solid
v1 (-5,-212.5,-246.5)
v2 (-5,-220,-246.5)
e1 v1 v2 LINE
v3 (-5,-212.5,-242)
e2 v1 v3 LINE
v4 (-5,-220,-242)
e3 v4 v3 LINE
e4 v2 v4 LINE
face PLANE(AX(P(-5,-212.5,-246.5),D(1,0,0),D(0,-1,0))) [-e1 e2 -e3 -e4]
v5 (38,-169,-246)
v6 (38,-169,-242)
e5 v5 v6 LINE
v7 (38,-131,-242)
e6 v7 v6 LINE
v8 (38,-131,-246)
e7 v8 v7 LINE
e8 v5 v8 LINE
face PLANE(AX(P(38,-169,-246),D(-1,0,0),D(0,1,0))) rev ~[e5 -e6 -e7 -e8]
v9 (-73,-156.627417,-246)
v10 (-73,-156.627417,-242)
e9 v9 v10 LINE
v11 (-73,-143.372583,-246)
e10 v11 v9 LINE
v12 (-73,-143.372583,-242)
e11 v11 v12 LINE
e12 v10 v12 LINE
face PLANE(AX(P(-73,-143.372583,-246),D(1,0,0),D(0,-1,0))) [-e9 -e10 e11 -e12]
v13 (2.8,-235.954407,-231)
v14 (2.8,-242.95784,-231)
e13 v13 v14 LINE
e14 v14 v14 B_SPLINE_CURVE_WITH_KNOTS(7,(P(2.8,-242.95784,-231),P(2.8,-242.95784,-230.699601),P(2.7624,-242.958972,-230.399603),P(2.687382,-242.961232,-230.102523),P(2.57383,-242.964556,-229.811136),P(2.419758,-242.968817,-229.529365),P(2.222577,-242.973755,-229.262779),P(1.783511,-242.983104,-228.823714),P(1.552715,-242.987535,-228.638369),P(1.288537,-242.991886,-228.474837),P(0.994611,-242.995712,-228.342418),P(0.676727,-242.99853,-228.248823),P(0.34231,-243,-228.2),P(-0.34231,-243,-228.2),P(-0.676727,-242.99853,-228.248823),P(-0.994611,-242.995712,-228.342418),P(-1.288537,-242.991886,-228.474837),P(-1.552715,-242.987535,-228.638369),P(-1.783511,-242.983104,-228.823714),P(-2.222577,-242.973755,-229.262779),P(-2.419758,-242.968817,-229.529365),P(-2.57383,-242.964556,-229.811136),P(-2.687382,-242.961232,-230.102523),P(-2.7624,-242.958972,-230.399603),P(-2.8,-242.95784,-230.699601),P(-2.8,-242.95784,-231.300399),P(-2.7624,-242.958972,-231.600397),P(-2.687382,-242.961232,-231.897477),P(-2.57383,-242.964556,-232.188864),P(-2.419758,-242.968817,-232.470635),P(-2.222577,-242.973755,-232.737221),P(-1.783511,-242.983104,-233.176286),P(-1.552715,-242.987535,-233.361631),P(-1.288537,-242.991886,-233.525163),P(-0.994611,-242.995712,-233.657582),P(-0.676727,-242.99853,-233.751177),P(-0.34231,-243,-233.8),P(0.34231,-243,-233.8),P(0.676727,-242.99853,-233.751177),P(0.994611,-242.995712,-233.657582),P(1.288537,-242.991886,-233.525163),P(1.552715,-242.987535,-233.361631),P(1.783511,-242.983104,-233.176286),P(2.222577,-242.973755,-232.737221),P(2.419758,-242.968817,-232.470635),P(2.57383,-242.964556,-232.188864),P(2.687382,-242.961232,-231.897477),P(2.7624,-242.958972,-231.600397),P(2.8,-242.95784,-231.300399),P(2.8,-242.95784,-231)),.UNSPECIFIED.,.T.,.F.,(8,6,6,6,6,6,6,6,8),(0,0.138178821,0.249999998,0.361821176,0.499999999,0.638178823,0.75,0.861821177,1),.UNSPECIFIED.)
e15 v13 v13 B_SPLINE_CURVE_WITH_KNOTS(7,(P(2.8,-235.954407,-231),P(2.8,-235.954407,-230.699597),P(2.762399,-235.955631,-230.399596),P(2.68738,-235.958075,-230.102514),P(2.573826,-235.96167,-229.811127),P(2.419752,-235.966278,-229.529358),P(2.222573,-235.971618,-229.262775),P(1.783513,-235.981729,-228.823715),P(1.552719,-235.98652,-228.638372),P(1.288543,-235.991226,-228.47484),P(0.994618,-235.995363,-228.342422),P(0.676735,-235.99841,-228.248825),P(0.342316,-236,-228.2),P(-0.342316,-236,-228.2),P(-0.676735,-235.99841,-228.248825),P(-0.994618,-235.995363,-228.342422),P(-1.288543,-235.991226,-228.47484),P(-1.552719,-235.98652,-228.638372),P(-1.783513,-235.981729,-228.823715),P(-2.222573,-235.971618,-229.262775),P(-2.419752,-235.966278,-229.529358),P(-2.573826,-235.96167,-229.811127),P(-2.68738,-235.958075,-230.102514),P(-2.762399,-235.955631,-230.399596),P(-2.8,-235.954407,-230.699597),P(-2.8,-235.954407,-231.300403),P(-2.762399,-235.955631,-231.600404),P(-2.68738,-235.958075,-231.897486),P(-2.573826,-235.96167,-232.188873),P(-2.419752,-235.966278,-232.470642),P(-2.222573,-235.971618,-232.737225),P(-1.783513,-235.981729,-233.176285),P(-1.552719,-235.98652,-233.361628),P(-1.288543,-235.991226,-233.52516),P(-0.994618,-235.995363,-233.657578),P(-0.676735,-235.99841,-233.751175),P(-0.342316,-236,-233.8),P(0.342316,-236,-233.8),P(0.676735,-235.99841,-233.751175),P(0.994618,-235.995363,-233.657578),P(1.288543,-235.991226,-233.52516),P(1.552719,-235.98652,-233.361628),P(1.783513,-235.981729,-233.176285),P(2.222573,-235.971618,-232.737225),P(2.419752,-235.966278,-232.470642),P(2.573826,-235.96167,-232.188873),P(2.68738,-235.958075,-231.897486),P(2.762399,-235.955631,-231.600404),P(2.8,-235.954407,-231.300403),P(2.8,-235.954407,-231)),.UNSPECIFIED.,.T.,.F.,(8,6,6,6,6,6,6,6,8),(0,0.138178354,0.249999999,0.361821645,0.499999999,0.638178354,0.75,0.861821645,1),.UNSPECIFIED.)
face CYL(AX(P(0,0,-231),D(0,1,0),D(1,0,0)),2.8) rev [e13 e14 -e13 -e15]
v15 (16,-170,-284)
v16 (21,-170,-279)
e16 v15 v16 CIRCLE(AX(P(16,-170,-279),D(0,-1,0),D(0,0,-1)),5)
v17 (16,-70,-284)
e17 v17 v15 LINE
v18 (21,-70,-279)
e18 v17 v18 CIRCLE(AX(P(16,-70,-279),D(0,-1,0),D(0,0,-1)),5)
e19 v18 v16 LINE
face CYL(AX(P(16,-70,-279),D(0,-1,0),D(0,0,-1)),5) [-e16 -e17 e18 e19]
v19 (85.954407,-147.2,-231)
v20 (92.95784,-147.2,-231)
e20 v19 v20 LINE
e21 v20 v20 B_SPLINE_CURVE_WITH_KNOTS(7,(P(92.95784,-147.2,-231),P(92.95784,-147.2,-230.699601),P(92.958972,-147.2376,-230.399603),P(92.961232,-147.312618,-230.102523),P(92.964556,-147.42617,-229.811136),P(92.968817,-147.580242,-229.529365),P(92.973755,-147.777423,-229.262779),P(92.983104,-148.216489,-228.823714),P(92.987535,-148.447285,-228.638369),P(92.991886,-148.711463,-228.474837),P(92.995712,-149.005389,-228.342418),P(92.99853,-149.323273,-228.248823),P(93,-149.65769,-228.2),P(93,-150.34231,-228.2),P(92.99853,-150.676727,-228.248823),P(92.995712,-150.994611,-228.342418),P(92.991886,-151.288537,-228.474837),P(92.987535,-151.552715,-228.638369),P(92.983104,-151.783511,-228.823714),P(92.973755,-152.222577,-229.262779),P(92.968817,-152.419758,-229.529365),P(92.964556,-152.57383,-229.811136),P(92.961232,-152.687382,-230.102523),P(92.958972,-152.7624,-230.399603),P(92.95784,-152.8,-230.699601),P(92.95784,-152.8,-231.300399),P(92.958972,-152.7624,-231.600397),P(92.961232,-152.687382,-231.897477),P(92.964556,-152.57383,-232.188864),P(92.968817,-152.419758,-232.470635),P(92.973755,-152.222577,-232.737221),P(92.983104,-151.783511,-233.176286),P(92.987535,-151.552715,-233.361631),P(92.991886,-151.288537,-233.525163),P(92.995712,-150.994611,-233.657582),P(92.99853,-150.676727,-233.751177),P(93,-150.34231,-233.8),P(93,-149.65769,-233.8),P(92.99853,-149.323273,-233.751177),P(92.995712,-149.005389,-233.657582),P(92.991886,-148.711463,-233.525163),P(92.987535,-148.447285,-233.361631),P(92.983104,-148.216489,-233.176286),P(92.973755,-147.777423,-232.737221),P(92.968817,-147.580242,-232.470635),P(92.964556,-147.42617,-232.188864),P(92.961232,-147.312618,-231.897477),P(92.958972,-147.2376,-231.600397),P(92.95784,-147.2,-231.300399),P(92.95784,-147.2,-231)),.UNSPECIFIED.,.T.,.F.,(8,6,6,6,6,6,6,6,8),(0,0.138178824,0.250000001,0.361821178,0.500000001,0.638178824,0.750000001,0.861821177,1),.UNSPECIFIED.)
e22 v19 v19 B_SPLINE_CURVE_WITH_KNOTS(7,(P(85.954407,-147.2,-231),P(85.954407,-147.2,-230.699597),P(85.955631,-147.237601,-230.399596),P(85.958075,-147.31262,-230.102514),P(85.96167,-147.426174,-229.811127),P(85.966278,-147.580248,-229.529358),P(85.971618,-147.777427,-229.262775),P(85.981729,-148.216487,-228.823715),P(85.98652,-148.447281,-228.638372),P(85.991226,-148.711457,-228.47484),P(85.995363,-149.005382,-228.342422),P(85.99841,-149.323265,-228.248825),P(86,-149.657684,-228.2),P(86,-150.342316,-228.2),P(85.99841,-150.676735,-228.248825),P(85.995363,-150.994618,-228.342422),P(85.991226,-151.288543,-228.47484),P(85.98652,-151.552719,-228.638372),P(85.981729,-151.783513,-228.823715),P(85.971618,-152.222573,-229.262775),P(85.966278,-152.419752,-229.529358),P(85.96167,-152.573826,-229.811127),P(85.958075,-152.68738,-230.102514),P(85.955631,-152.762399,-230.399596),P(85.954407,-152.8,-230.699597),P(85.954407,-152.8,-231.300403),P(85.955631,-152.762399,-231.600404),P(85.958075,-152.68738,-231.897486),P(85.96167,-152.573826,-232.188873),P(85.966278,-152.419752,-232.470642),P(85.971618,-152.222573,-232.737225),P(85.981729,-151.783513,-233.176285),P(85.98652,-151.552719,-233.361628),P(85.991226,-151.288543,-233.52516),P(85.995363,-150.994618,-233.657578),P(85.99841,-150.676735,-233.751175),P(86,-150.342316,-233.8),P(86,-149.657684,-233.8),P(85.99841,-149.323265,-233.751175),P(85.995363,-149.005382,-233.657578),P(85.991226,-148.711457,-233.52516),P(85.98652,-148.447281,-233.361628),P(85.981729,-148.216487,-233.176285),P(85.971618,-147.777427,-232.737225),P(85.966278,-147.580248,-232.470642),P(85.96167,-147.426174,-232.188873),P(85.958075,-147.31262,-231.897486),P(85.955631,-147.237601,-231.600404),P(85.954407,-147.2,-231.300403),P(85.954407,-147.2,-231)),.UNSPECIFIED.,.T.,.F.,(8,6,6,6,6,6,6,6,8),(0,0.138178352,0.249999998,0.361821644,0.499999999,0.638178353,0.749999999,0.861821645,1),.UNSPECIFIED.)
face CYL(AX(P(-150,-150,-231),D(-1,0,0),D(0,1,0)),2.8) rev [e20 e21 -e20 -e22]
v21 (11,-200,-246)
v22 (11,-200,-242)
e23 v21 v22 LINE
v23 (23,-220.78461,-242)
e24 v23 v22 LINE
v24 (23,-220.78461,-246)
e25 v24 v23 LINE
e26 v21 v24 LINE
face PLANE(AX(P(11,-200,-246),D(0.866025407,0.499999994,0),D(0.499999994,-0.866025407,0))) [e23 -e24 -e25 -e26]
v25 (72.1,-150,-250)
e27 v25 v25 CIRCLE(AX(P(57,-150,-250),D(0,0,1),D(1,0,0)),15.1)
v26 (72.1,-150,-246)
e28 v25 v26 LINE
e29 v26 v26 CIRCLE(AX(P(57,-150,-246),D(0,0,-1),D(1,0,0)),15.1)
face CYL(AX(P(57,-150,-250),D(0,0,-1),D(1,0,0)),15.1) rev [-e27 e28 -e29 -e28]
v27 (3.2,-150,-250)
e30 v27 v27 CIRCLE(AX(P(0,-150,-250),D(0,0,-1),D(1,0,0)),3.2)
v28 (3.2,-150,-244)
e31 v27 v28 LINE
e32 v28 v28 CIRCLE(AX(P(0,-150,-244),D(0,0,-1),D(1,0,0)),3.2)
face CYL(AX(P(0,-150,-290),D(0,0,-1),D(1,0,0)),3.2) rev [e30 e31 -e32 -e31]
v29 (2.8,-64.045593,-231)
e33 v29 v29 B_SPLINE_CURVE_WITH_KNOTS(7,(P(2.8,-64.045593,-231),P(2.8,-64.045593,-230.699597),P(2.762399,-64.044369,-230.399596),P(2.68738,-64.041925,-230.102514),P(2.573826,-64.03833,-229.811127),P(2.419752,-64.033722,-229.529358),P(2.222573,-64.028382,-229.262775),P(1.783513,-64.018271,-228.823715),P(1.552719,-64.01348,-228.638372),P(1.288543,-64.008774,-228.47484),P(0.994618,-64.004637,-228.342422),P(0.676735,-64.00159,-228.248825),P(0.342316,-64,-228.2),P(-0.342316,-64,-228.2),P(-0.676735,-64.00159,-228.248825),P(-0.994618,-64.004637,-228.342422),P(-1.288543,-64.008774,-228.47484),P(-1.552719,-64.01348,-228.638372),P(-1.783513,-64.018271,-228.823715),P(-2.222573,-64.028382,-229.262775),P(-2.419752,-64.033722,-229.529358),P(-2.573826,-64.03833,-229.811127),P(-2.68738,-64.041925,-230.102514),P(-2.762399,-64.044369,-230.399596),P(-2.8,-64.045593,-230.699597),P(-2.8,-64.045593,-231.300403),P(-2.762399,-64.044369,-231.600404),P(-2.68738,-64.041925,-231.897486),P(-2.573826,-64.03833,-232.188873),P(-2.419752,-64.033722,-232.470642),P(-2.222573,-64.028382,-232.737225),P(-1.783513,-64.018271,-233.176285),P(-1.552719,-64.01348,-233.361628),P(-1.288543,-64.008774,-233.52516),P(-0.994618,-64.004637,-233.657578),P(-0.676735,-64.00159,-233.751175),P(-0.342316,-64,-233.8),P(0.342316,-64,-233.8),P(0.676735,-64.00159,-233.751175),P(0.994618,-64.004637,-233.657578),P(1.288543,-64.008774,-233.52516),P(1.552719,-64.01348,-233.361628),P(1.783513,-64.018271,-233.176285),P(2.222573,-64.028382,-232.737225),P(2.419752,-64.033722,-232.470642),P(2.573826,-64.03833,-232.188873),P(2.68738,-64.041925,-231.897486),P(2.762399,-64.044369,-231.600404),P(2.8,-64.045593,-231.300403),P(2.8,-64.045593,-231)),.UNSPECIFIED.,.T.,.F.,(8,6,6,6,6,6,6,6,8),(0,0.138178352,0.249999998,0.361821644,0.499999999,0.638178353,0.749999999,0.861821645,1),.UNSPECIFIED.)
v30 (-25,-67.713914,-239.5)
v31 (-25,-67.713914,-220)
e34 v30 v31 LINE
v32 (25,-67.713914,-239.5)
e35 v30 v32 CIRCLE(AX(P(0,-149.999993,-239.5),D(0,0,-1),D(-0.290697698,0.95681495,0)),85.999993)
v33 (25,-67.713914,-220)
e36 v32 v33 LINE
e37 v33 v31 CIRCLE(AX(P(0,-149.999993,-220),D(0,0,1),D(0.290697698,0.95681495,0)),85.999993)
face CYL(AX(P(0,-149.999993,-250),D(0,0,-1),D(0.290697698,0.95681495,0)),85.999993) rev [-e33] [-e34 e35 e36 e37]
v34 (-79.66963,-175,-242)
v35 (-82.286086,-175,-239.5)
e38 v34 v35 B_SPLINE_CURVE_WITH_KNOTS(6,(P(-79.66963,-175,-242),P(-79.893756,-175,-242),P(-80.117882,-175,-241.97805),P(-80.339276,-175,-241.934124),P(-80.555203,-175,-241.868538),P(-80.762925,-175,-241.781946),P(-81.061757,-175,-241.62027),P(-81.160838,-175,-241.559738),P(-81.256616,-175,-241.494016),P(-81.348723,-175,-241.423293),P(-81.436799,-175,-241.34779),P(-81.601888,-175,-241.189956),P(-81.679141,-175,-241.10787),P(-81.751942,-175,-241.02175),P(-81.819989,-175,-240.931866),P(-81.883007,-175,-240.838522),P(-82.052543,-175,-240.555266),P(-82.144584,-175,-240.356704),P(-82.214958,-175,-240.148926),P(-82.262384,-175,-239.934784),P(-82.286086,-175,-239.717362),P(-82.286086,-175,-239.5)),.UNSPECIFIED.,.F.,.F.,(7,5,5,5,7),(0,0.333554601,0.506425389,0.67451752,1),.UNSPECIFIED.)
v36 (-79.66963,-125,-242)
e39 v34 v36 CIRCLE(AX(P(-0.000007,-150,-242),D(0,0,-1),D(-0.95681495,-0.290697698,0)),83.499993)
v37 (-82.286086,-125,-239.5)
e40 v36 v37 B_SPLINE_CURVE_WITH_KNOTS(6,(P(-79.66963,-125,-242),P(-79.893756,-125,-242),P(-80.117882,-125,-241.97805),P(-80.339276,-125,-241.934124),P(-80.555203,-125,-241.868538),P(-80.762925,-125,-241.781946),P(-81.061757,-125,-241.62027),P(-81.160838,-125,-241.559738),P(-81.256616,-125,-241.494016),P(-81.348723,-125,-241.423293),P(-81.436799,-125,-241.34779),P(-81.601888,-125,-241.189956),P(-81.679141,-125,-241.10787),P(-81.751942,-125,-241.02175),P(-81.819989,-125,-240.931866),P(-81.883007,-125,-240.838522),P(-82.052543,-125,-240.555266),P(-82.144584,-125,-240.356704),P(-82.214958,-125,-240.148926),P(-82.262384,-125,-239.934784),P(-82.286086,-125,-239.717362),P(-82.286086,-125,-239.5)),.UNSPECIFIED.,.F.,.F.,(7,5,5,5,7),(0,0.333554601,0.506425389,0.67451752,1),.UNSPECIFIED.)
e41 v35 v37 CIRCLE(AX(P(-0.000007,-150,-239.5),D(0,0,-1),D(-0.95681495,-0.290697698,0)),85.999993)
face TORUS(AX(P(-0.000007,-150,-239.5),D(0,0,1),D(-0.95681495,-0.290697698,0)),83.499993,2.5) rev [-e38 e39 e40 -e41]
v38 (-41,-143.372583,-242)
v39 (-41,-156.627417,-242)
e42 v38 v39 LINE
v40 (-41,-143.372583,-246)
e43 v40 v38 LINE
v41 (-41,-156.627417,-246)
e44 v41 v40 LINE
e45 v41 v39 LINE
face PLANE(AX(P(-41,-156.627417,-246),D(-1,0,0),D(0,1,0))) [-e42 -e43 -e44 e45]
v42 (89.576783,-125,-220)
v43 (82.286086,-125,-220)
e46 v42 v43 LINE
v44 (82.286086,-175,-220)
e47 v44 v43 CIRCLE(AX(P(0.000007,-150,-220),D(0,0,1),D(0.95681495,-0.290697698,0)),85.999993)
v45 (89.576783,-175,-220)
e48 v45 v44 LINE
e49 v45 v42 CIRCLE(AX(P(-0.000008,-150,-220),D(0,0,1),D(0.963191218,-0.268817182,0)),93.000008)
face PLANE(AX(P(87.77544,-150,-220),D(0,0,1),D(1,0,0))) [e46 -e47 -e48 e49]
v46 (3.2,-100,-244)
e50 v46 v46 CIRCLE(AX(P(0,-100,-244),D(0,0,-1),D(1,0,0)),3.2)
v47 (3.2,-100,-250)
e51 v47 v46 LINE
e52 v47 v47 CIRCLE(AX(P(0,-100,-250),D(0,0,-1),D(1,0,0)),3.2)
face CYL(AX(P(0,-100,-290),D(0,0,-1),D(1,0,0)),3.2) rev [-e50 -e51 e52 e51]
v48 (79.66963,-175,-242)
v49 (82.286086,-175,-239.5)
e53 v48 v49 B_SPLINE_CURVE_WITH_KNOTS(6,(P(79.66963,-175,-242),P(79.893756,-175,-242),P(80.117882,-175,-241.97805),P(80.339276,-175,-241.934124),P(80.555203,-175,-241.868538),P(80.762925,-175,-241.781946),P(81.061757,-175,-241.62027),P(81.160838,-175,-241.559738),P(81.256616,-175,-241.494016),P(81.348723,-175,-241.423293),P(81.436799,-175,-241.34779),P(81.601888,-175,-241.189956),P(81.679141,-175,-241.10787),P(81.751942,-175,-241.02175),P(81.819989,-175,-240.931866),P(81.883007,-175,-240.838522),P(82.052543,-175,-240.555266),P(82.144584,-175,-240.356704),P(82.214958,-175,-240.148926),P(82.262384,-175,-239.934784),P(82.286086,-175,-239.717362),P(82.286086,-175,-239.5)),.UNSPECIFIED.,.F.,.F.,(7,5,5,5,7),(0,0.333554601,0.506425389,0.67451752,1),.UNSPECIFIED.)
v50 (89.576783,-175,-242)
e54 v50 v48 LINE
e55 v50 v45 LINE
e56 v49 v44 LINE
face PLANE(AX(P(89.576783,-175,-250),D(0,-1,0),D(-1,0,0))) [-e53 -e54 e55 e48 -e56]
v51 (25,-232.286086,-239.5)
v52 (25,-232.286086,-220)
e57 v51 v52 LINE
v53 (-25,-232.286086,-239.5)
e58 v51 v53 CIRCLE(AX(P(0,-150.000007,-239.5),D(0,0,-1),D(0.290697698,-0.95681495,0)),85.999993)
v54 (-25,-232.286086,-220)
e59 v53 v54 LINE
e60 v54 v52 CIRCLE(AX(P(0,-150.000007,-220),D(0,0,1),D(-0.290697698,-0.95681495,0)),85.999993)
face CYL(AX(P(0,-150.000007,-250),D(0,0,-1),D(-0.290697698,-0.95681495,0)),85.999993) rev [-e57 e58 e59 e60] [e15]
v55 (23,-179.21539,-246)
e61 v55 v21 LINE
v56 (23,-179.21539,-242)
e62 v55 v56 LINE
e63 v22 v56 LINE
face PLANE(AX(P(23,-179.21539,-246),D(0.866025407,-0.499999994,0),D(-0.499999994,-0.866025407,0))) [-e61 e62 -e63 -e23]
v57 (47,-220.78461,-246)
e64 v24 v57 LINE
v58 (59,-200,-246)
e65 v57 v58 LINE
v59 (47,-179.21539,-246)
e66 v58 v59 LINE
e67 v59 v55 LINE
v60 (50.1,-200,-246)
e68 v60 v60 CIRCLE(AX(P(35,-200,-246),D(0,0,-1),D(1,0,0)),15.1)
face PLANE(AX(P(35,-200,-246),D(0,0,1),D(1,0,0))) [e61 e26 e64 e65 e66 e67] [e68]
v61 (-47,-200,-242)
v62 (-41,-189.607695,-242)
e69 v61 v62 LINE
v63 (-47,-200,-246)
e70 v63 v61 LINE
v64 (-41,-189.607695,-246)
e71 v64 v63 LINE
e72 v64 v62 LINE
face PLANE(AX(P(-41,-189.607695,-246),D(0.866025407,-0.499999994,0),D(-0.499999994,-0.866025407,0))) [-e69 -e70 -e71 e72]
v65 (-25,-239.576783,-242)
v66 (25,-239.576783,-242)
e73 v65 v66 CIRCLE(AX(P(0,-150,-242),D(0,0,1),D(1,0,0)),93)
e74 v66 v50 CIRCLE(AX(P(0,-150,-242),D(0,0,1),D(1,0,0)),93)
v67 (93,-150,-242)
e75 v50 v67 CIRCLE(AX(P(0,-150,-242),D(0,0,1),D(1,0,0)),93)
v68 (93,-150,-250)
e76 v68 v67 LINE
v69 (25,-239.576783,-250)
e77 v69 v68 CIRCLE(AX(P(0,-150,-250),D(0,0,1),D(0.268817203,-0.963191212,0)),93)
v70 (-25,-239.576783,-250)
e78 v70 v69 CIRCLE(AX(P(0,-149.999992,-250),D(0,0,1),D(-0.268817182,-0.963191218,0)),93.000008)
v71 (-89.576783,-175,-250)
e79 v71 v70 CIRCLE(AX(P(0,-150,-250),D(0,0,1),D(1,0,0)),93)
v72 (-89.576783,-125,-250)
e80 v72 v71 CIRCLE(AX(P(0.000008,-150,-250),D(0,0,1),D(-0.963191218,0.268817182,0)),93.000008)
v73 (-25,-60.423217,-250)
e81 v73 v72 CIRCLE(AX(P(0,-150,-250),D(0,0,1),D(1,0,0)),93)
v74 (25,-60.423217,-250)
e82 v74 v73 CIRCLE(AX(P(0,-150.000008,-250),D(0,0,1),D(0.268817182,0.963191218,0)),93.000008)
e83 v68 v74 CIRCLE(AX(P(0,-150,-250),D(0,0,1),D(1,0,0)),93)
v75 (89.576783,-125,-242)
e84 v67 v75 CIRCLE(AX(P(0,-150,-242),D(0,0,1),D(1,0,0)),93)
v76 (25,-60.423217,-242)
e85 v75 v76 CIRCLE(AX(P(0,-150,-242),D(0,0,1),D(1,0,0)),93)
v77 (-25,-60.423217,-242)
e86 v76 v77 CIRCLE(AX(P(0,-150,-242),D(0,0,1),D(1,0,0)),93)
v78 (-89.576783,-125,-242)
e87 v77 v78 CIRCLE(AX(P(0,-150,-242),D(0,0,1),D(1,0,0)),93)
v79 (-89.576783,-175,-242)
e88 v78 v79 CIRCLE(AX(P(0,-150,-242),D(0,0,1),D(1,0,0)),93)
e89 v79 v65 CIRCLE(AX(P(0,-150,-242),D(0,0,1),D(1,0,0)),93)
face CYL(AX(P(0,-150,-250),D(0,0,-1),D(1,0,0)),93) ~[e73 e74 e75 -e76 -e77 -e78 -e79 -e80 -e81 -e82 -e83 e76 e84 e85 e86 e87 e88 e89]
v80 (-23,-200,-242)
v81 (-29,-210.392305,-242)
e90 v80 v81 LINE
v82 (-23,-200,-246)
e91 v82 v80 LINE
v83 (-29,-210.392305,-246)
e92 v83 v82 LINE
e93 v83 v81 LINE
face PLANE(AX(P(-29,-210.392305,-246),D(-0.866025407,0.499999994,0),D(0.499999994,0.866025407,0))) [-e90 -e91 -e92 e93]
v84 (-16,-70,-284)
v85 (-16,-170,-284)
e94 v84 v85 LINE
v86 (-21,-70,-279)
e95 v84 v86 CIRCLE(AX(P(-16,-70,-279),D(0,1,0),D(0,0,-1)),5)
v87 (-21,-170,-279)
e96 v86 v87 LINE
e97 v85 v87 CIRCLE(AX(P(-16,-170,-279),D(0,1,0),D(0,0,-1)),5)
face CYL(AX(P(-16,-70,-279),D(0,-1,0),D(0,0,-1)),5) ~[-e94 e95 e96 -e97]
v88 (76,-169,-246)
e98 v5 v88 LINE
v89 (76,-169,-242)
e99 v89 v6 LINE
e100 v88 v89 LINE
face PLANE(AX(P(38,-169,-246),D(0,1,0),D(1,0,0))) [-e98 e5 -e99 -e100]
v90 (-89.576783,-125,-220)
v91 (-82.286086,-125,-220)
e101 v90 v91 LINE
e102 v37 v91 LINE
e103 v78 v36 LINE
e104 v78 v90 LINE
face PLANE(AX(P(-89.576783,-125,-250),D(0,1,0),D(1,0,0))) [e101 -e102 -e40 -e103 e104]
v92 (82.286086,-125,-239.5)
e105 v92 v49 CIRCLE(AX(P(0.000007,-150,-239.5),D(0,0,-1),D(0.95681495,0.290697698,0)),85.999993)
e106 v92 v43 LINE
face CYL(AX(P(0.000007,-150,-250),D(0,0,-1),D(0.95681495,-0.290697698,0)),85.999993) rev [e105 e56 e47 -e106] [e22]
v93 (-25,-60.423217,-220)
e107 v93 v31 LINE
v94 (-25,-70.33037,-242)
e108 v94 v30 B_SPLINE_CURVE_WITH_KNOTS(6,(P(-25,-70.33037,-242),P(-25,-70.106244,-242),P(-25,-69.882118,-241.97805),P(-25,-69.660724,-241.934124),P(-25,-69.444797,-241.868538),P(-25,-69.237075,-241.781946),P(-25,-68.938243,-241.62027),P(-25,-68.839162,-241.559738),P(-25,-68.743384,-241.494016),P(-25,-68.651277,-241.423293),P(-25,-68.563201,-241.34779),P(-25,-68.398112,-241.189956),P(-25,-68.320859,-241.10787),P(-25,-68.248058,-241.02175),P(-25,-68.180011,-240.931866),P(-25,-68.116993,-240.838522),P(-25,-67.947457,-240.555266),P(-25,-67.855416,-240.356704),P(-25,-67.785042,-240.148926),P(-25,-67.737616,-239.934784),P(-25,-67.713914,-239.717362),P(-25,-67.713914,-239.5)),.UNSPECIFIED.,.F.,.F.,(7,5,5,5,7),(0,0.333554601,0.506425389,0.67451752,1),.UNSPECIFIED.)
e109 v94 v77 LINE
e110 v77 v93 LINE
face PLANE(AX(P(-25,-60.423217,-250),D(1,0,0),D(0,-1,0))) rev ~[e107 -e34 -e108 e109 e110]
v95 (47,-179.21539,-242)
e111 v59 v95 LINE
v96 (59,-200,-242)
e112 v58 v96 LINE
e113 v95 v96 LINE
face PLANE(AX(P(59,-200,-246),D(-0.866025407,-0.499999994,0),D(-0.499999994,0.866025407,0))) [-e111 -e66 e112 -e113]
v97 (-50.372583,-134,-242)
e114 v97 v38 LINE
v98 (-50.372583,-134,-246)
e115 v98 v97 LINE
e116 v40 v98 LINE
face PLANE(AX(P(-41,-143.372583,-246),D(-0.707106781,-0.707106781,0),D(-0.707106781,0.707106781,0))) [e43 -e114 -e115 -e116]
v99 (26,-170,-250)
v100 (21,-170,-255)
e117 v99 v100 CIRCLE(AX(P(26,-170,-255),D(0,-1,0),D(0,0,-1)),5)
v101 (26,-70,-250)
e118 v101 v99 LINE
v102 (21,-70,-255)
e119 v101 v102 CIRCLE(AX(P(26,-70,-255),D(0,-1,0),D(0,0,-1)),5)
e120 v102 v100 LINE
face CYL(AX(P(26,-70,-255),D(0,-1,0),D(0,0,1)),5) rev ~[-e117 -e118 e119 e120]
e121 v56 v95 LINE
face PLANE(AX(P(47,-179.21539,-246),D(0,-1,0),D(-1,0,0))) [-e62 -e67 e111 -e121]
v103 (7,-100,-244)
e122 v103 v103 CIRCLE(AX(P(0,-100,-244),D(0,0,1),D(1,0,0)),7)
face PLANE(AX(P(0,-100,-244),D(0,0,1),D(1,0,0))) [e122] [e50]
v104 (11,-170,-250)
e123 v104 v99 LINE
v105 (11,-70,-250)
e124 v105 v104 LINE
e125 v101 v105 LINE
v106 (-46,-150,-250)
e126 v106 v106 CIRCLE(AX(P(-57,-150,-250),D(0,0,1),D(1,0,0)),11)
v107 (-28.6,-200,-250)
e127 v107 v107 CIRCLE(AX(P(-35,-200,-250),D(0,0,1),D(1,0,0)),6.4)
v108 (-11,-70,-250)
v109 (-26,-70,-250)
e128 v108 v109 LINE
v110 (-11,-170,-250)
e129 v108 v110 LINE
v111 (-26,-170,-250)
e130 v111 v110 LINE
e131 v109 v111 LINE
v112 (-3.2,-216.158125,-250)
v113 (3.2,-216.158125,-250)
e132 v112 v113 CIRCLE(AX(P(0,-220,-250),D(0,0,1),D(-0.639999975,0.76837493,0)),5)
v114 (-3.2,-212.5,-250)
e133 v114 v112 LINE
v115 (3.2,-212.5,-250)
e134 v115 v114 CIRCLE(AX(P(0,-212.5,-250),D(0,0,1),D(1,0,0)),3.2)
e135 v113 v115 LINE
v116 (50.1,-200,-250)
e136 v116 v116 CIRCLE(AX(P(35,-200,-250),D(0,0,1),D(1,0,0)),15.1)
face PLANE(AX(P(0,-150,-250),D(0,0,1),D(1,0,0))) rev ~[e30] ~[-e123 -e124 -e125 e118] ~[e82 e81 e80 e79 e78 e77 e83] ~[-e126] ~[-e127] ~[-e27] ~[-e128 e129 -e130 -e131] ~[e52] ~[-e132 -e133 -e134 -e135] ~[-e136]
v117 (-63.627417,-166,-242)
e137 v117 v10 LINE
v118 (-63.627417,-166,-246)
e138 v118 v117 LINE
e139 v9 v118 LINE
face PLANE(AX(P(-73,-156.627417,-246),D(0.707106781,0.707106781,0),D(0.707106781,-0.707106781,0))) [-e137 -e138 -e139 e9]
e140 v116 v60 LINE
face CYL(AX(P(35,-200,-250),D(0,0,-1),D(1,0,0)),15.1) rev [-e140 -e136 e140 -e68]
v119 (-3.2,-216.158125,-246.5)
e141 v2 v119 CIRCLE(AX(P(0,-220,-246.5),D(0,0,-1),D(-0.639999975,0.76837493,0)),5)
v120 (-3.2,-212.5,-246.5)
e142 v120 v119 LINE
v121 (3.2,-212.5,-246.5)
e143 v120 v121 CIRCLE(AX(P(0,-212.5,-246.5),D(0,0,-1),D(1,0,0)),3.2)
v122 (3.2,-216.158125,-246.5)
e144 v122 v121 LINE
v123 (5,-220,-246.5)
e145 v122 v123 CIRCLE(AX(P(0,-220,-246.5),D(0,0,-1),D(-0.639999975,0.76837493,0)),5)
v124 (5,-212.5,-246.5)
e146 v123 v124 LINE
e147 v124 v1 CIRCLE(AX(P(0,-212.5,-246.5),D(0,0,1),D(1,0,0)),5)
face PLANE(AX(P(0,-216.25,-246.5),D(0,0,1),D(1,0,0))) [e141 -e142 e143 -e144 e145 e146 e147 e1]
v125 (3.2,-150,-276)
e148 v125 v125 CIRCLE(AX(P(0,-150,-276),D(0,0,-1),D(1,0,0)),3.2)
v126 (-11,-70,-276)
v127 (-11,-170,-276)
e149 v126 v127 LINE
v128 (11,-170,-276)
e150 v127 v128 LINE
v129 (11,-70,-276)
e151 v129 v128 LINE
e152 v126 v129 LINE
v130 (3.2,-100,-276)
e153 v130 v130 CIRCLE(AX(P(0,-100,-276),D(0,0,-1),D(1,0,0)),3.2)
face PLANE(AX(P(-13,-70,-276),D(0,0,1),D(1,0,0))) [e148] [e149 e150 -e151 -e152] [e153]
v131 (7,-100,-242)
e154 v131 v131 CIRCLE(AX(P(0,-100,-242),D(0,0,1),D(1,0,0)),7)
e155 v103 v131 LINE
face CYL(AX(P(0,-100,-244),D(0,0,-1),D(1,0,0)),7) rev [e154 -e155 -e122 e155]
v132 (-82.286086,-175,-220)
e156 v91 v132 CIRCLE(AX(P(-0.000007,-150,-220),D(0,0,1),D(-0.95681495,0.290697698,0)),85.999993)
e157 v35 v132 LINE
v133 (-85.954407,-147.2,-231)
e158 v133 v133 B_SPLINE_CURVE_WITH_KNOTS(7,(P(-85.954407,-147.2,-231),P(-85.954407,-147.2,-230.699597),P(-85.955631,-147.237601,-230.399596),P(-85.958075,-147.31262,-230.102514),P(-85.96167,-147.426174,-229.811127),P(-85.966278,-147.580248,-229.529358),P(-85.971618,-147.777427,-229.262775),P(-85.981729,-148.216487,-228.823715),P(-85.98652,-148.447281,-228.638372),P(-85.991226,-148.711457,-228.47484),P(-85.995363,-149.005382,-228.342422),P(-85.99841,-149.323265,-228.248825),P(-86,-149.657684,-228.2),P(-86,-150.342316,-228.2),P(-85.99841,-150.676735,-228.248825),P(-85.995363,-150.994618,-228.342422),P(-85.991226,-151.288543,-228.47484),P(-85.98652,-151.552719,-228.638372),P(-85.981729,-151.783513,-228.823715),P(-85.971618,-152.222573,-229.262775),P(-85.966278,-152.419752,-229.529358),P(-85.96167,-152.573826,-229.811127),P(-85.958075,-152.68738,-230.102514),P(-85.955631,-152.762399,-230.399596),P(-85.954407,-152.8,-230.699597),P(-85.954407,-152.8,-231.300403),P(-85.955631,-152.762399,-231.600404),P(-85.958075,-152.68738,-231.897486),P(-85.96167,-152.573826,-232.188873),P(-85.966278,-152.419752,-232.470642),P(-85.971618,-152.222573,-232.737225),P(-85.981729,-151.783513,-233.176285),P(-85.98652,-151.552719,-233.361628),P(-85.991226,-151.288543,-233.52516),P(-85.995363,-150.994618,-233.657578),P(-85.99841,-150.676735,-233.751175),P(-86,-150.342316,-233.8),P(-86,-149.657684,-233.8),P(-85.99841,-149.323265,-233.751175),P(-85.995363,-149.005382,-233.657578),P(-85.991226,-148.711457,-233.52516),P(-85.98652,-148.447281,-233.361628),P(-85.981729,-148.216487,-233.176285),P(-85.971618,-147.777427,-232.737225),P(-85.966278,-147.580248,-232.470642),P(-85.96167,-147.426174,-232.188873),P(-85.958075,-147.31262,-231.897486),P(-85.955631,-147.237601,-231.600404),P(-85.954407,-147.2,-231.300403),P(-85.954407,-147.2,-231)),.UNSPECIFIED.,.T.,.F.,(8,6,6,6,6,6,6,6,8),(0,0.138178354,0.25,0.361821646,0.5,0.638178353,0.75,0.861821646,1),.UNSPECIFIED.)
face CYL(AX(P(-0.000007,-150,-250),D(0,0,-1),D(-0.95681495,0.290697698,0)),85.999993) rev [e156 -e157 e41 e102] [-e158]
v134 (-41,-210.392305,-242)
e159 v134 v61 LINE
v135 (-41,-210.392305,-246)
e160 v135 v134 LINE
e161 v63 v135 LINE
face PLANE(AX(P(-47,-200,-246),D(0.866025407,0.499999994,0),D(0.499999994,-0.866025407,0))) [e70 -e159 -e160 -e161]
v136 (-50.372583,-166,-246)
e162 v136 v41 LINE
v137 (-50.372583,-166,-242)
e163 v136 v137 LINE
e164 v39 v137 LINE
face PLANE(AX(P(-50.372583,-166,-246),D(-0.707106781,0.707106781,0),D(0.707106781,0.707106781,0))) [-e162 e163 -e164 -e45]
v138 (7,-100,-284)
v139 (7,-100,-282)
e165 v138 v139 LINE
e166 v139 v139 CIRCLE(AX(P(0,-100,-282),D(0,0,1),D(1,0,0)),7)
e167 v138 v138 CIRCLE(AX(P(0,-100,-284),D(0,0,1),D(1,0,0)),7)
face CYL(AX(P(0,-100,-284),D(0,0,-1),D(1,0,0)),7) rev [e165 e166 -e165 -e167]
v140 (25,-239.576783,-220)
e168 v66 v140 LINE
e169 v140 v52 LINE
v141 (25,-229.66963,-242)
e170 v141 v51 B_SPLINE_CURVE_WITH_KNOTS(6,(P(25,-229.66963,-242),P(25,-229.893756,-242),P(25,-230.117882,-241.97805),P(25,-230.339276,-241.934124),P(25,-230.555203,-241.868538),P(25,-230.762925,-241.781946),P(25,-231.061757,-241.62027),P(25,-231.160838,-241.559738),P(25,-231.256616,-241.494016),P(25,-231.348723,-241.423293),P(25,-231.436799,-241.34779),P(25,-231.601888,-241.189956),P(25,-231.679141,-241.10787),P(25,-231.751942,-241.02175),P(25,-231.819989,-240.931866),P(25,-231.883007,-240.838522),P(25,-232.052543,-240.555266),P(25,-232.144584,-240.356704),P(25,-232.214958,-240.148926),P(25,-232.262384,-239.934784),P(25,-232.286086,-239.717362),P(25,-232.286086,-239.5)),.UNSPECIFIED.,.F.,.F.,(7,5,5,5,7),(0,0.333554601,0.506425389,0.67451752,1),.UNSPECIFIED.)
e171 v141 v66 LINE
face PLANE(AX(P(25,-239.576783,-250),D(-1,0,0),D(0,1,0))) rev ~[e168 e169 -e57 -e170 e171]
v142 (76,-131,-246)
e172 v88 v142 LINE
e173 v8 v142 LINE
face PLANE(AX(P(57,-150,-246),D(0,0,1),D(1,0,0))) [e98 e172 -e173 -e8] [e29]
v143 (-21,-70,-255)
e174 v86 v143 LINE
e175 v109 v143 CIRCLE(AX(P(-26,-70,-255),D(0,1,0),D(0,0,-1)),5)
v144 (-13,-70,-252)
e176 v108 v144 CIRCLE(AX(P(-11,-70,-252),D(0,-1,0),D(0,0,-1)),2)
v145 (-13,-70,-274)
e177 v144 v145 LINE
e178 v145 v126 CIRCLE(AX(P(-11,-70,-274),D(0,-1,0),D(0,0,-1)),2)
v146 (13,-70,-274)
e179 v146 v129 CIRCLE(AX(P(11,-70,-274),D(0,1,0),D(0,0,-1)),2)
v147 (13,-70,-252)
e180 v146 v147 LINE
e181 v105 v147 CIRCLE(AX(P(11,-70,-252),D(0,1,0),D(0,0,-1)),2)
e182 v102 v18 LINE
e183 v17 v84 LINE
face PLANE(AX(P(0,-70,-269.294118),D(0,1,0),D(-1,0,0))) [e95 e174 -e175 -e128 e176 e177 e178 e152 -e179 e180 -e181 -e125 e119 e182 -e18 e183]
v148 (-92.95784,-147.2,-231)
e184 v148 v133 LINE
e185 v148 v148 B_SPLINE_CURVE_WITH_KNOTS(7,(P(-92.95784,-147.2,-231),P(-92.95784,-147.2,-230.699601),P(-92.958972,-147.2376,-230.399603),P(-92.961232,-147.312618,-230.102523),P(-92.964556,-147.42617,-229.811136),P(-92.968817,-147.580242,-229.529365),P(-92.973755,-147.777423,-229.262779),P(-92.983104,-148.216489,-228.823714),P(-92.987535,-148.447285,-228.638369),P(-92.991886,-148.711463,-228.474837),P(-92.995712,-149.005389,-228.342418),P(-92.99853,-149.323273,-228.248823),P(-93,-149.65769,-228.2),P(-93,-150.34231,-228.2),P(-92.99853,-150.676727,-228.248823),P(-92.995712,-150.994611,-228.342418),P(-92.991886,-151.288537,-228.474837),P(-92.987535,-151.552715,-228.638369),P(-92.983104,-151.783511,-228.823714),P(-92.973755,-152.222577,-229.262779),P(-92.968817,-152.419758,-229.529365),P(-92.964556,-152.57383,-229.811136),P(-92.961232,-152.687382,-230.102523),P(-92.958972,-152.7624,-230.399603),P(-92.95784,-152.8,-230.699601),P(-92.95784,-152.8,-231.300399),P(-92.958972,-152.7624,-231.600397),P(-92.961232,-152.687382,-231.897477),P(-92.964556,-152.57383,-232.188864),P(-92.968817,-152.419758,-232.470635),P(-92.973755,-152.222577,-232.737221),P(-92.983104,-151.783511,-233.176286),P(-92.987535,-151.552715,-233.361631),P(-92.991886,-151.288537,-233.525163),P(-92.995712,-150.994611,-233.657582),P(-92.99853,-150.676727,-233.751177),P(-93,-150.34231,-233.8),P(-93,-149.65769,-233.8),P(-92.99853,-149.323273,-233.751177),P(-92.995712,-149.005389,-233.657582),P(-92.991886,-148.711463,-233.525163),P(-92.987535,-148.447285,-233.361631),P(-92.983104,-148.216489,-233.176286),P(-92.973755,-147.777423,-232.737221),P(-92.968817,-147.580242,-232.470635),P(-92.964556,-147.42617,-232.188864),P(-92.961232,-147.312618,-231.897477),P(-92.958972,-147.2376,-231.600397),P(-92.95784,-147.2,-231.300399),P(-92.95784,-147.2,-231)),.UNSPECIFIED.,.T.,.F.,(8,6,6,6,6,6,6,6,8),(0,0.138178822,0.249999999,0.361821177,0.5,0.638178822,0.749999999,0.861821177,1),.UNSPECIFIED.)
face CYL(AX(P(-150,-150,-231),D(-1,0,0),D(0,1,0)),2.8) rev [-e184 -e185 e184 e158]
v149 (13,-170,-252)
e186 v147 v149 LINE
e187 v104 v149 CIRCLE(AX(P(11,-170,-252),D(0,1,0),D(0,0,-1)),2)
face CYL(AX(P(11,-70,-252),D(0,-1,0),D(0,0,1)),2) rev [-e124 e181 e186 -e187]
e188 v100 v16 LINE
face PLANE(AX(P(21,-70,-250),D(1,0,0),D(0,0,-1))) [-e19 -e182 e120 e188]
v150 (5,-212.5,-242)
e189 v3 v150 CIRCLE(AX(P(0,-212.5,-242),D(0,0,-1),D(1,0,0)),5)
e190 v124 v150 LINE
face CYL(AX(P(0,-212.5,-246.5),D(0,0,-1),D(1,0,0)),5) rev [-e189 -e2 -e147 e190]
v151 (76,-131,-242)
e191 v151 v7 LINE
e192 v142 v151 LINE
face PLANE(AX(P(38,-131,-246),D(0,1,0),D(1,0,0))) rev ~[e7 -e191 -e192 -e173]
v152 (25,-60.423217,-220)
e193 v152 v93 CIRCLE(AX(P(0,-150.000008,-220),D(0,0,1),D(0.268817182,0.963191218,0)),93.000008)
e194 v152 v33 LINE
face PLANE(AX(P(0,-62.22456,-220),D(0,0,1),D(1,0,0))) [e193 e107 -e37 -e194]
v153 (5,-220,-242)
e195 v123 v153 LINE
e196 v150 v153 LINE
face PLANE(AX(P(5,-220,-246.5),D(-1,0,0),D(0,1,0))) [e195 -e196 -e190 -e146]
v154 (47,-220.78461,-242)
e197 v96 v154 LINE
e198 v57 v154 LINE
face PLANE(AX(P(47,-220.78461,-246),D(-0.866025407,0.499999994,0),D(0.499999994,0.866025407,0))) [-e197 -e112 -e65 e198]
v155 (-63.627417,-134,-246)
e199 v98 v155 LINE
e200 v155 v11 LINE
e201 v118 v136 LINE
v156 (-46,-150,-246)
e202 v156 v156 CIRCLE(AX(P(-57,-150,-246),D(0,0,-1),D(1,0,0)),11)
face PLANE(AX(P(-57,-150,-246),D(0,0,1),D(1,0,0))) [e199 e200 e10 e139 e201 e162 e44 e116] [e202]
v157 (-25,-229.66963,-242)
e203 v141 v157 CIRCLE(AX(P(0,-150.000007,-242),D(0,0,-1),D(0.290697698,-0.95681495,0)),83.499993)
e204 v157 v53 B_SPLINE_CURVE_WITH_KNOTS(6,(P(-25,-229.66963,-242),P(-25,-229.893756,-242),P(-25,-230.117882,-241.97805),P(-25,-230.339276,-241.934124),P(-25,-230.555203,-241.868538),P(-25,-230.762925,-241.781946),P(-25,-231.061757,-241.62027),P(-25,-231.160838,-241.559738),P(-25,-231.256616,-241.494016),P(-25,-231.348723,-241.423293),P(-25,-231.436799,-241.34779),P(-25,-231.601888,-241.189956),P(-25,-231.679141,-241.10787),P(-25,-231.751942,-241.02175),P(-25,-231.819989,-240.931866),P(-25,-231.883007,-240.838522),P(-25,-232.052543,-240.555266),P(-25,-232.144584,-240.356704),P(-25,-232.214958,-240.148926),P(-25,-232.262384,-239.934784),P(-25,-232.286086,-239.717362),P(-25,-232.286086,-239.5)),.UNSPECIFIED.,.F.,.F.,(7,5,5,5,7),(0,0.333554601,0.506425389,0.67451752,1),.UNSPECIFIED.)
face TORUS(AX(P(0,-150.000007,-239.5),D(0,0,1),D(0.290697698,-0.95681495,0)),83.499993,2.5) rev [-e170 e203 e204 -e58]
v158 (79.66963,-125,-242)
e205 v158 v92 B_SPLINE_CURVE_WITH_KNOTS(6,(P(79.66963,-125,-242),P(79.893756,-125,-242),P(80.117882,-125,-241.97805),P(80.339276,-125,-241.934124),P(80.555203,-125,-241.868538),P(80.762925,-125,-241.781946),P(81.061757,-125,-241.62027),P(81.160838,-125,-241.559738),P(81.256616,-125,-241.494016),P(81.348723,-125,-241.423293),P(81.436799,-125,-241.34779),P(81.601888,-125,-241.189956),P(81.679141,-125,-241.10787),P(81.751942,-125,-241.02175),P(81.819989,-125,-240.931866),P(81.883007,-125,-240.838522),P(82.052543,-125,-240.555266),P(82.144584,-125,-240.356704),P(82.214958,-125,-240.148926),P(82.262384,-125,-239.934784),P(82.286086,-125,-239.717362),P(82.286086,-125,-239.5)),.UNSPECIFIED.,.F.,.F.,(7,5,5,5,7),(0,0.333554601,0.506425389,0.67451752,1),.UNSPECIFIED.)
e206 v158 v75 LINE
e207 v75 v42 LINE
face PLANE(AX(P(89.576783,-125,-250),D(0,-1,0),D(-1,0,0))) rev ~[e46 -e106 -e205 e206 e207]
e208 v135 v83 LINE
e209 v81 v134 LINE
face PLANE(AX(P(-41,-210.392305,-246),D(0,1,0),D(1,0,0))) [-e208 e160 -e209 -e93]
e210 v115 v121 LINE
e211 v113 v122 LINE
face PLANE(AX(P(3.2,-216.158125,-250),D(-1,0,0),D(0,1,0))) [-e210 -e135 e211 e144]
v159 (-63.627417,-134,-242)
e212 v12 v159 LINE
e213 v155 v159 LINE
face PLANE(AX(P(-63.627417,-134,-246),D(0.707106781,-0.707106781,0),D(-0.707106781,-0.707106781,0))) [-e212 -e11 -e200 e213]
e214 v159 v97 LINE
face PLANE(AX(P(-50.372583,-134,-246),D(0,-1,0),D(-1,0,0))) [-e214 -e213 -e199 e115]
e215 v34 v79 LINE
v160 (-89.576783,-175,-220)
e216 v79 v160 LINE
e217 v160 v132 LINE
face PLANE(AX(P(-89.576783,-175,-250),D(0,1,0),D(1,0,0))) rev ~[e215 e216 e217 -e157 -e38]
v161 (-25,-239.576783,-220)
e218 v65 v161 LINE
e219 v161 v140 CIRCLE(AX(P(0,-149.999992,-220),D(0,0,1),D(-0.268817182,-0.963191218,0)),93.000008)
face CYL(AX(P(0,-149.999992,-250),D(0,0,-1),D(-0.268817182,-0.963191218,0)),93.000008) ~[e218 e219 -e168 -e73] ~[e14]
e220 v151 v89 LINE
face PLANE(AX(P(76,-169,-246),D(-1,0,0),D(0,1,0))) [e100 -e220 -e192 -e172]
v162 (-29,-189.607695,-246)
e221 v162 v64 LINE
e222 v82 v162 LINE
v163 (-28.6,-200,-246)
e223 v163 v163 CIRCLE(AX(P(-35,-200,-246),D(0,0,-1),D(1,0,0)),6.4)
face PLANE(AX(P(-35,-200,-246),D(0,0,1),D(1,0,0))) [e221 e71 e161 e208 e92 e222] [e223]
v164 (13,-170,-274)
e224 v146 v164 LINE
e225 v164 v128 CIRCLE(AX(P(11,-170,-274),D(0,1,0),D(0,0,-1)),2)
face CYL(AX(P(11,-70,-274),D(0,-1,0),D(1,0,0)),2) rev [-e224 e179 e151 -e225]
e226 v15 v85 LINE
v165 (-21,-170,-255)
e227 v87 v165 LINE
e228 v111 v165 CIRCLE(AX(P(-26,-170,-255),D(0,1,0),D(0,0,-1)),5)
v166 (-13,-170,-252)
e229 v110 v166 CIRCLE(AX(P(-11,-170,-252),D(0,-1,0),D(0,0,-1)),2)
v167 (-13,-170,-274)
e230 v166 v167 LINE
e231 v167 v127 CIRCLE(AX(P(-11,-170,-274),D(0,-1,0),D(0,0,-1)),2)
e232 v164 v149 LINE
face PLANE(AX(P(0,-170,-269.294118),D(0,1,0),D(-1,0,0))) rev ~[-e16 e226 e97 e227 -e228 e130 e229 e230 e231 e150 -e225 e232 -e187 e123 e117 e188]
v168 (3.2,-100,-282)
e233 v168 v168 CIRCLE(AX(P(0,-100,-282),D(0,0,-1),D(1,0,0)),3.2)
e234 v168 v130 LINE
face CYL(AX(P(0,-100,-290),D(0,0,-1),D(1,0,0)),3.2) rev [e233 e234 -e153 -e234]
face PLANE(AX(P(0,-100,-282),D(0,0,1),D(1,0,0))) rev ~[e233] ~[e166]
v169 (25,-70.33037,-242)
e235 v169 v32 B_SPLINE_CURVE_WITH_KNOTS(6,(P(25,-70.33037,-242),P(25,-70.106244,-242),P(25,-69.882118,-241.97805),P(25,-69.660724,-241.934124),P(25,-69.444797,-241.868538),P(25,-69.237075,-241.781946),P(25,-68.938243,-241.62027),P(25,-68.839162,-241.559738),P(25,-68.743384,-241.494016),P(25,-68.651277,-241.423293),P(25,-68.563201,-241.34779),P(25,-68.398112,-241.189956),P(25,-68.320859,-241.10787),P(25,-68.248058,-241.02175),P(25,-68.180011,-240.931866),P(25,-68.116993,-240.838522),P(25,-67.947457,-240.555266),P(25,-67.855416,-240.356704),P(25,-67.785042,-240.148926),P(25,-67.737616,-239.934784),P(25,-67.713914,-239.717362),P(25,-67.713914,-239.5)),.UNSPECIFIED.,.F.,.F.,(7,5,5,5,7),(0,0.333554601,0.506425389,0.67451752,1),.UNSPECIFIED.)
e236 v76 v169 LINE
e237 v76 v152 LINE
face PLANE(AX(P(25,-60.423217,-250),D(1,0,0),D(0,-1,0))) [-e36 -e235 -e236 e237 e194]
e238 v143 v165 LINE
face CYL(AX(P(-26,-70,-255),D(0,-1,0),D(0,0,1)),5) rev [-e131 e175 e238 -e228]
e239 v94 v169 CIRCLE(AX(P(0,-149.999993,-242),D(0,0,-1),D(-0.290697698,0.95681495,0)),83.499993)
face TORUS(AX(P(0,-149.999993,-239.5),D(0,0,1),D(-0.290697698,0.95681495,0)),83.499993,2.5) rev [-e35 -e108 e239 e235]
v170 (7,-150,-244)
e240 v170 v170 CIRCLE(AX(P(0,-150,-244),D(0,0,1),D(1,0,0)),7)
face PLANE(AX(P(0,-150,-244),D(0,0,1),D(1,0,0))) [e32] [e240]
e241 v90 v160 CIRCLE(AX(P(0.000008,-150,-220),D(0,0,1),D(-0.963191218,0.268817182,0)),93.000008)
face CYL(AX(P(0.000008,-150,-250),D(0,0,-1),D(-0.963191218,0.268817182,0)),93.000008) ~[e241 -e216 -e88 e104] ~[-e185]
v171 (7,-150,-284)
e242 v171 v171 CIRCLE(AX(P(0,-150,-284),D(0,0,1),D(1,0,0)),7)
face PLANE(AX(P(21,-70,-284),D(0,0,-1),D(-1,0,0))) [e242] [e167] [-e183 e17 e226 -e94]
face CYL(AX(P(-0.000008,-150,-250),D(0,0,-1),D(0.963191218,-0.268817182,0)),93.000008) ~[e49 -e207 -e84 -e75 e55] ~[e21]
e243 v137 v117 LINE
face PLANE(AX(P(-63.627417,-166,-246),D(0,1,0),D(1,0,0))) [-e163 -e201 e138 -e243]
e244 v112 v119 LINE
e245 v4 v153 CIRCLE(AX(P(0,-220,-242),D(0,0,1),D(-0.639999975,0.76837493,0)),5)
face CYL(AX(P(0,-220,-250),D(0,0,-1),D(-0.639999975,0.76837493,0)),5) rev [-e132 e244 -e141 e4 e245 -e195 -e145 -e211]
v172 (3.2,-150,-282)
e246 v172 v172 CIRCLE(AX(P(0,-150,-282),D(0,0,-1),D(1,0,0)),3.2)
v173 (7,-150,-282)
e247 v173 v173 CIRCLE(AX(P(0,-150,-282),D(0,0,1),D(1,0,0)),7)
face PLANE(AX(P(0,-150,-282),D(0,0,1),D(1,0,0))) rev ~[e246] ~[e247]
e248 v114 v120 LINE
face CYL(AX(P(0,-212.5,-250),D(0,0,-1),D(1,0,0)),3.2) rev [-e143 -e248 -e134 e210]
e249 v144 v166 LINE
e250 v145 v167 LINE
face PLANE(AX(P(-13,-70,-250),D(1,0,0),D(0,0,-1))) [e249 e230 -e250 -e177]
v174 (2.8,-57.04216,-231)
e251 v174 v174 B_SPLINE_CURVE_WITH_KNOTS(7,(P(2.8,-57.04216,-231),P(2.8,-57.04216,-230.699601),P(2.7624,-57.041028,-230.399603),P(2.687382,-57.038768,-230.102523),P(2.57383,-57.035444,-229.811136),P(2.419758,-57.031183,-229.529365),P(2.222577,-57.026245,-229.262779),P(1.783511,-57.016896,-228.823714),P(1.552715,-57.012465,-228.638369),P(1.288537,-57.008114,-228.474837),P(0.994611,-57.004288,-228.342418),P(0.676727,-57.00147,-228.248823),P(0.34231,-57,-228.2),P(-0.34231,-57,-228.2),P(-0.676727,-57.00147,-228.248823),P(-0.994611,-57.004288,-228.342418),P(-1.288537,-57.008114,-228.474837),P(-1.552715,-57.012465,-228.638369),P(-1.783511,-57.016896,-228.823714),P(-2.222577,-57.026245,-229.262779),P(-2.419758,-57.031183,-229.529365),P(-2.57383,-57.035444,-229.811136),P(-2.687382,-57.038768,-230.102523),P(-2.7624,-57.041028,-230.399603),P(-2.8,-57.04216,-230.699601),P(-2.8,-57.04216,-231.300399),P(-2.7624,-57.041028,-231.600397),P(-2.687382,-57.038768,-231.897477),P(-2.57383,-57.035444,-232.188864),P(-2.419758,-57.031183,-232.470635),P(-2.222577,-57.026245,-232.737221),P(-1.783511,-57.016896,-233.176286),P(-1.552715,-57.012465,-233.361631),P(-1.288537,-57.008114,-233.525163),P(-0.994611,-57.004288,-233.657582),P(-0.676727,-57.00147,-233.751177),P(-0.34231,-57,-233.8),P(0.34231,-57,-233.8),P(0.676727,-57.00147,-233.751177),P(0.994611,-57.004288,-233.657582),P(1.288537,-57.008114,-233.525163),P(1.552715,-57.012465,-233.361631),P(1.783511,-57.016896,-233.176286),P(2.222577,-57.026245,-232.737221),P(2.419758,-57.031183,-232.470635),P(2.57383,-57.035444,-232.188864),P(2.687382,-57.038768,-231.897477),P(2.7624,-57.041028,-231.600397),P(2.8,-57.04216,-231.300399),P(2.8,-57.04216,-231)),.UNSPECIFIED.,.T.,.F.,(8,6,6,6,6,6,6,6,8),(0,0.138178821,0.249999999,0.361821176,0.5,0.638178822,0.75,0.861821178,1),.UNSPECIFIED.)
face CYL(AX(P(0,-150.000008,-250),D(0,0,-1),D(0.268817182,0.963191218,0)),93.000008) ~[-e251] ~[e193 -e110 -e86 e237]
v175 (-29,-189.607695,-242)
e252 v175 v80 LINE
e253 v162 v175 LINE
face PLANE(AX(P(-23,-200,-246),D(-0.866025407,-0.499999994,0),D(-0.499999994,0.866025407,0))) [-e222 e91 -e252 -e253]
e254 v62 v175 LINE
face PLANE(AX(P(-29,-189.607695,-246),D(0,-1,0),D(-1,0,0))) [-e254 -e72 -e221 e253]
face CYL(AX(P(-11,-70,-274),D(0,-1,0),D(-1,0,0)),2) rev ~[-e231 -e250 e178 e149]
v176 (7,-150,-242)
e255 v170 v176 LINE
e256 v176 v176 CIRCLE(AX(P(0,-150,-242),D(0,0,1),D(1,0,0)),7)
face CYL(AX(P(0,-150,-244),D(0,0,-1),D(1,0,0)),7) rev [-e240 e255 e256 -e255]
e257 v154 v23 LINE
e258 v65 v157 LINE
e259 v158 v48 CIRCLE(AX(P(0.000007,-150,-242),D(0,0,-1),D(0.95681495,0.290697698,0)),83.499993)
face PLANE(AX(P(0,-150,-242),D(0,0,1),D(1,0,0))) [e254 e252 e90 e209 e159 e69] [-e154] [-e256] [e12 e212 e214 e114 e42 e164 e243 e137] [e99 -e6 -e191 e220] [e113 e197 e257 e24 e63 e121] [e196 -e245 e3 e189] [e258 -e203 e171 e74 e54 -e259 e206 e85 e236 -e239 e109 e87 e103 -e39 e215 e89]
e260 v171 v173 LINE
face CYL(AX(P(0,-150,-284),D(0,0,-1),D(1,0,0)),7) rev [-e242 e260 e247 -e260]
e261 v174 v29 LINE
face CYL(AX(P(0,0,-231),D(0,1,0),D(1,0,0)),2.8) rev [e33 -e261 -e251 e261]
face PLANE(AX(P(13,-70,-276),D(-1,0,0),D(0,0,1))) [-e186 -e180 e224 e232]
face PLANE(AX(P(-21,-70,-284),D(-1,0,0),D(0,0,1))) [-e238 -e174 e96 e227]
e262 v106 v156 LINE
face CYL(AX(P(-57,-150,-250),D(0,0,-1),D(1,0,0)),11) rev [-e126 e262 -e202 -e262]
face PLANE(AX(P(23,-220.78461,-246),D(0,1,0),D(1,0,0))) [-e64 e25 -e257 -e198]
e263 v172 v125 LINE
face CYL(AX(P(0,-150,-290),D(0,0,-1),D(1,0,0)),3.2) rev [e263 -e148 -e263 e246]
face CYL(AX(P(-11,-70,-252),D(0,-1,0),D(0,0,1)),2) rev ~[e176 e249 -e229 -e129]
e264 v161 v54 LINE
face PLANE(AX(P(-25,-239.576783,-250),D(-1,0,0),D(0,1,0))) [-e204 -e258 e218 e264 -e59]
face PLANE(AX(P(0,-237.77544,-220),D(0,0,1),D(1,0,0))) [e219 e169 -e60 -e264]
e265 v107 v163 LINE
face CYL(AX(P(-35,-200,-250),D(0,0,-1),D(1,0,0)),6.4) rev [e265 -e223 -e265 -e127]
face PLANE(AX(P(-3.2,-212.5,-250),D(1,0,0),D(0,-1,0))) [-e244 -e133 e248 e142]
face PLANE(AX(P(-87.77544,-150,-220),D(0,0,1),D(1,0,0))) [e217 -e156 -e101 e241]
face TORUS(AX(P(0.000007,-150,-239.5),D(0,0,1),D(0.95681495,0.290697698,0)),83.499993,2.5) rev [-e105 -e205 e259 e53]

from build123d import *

# Parameters (mm, degrees)
SKETCH159_R       = 7
EXTRUDE060_DEPTH  = 2
SKETCH158_R       = 7
EXTRUDE059_DEPTH  = 2
SKETCH143_R       = 3.2
EXTRUDE044_DEPTH  = 50
SKETCH157_W       = 38
SKETCH157_H       = 38
EXTRUDE058_DEPTH  = 10
EXTRUDE036_DEPTH  = 100
EXTRUDE020_DEPTH  = 10
CYLINDER133_R     = 2.8
CYLINDER133_DEPTH = 300
CYLINDER134_R     = 2.8
CYLINDER134_DEPTH = 300
EXTRUDE023_DEPTH  = 30
SKETCH037_R       = 93
SKETCH037_R_2     = 11
SKETCH037_R_3     = 15.1
SKETCH037_R_4     = 6.4
EXTRUDE019_DEPTH  = 8
FILLET028_R       = 2
FILLET029_R       = 5
FILLET030_R       = 2.5


with BuildPart() as extrude060:
    # Sketch159 → Extrude060 (new body)
    with BuildSketch(Plane.XY.offset(-244)):
        with Locations((0, -100)):
            Circle(SKETCH159_R)
        with Locations((0, -150)):
            Circle(SKETCH159_R)
    extrude(amount=EXTRUDE060_DEPTH)


with BuildPart() as extrude060_1:
    # Extrude060 placement: moved
    add(extrude060.part.moved(Location((0, 0, -40))))


with BuildPart() as tslotcuts:
    # Sketch158 → Extrude059 (new body)
    with BuildSketch(Plane.XY.offset(-244)):
        with Locations((0, -100)):
            Circle(SKETCH158_R)
        with Locations((0, -150)):
            Circle(SKETCH158_R)
    extrude(amount=EXTRUDE059_DEPTH)

    # Fusion135: union Extrude060
    add(extrude060_1.part)


with BuildPart() as extrude044:
    # Sketch143 → Extrude044 (new body)
    with BuildSketch(Plane.XY):
        with Locations((0, -150)):
            Circle(SKETCH143_R)
        with Locations((0, -100)):
            Circle(SKETCH143_R)
    extrude(amount=EXTRUDE044_DEPTH)


with BuildPart() as extrude044_1:
    # Extrude044 placement: moved
    add(extrude044.part.moved(Location((0, 0, -290))))


with BuildPart() as level5cuts002:
    # Sketch157 → Extrude058 (new body)
    with BuildSketch(Plane.XY):
        with Locations((57, -150)):
            Rectangle(SKETCH157_W, SKETCH157_H)
        Polygon((-29, -210.392305), (-23, -200), (-29, -189.607695), (-41, -189.607695), (-47, -200), (-41, -210.392305), align=None)
        Polygon((47, -220.78461), (59, -200), (47, -179.21539), (23, -179.21539), (11, -200), (23, -220.78461), align=None)
        Polygon((-50.372583, -166), (-41, -156.627417), (-41, -143.372583), (-50.372583, -134), (-63.627417, -134), (-73, -143.372583), (-73, -156.627417), (-63.627417, -166), align=None)
    extrude(amount=EXTRUDE058_DEPTH)


with BuildPart() as level5cuts002_1:
    # Extrude058 placement: moved
    add(level5cuts002.part.moved(Location((0, 0, -246))))

    # Fusion133: union Extrude044
    add(extrude044_1.part)

    # Fusion136: union tSlotCuts
    add(tslotcuts.part)


with BuildPart() as level5s012:
    # Sketch054 → Extrude036 (new body)
    with BuildSketch(Plane.XZ):
        Polygon((-21, -250), (-13, -250), (-13, -276), (13, -276), (13, -250), (21, -250), (21, -284), (-21, -284), align=None)
    extrude(amount=EXTRUDE036_DEPTH)


with BuildPart() as level5s012_1:
    # Extrude036 placement: moved
    add(level5s012.part.moved(Location((0, -70, 0))))


with BuildPart() as miccutlevel5:
    # Sketch038 → Extrude020 (new body)
    with BuildSketch(Plane.XY):
        with BuildLine():
            ThreePointArc((-5, -220), (0, -225), (5, -220))
            Line((5, -220), (5, -212.5))
            ThreePointArc((5, -212.5), (0, -207.5), (-5, -212.5))
            Line((-5, -212.5), (-5, -220))
        make_face()
    extrude(amount=EXTRUDE020_DEPTH)


with BuildPart() as miccutlevel5_1:
    # Extrude020 placement: moved
    add(miccutlevel5.part.moved(Location((0, 0, -246.5))))


with BuildPart() as cylinder133:
    # Cylinder133 → Cylinder133 (new body)
    with BuildSketch(Plane(origin=(0, 0, 90), x_dir=(1, 0, 0), z_dir=(0, -1, 0))):
        Circle(CYLINDER133_R)
    extrude(amount=CYLINDER133_DEPTH)


with BuildPart() as m4heatsetcuts001:
    # Cylinder134 → Cylinder134 (new body)
    with BuildSketch(Plane(origin=(-150, -150, 90), x_dir=(0, 1, 0), z_dir=(1, 0, 0))):
        Circle(CYLINDER134_R)
    extrude(amount=CYLINDER134_DEPTH)

    # Fusion085: union Cylinder133
    add(cylinder133.part)


with BuildPart() as m4heatsetcuts001_1:
    # Fusion085 placement: moved
    add(m4heatsetcuts001.part.moved(Location((0, 0, -321))))


with BuildPart() as srsholdslevel5:
    # Sketch041 → Extrude023 (new body)
    with BuildSketch(Plane.XY):
        with BuildLine():
            ThreePointArc((-89.576783, -125), (-93, -150), (-89.576783, -175))
            Line((-89.576783, -175), (-82.286086, -175))
            ThreePointArc((-82.286086, -125), (-86, -150), (-82.286086, -175))
            Line((-89.576783, -125), (-82.286086, -125))
        make_face()
        with BuildLine():
            ThreePointArc((25, -60.423217), (0, -57), (-25, -60.423217))
            Line((-25, -60.423217), (-25, -67.713914))
            ThreePointArc((25, -67.713914), (0, -64), (-25, -67.713914))
            Line((25, -60.423217), (25, -67.713914))
        make_face()
        with BuildLine():
            ThreePointArc((89.576783, -175), (93, -150), (89.576783, -125))
            Line((89.576783, -125), (82.286086, -125))
            ThreePointArc((82.286086, -175), (86, -150), (82.286086, -125))
            Line((89.576783, -175), (82.286086, -175))
        make_face()
        with BuildLine():
            ThreePointArc((-25, -239.576783), (0, -243), (25, -239.576783))
            Line((25, -239.576783), (25, -232.286086))
            ThreePointArc((-25, -232.286086), (0, -236), (25, -232.286086))
            Line((-25, -239.576783), (-25, -232.286086))
        make_face()
    extrude(amount=EXTRUDE023_DEPTH)


with BuildPart() as srsholdslevel5_1:
    # Extrude023 placement: moved
    add(srsholdslevel5.part.moved(Location((0, 0, -250))))


with BuildPart() as level5s015:
    # Sketch037 → Extrude019 (new body)
    with BuildSketch(Plane.XY):
        with Locations((0, -150)):
            Circle(SKETCH037_R)
        with Locations((-57, -150)):
            Circle(SKETCH037_R_2, mode=Mode.SUBTRACT)
        with Locations((57, -150)):
            Circle(SKETCH037_R_3, mode=Mode.SUBTRACT)
        with Locations((35, -200)):
            Circle(SKETCH037_R_3, mode=Mode.SUBTRACT)
        with Locations((-35, -200)):
            Circle(SKETCH037_R_4, mode=Mode.SUBTRACT)
        with BuildLine():
            ThreePointArc((-3.2, -216.158125), (0, -225), (3.2, -216.158125))
            Line((3.2, -216.158125), (3.2, -212.5))
            ThreePointArc((3.2, -212.5), (0, -209.3), (-3.2, -212.5))
            Line((-3.2, -212.5), (-3.2, -216.158125))
        make_face(mode=Mode.SUBTRACT)
    extrude(amount=EXTRUDE019_DEPTH)


with BuildPart() as level5s015_1:
    # Extrude019 placement: moved
    add(level5s015.part.moved(Location((0, 0, -250))))

    # Fusion083: union srsHoldsLevel5
    add(srsholdslevel5_1.part)

    # Cut035: cut m4HeatSetCuts001
    add(m4heatsetcuts001_1.part, mode=Mode.SUBTRACT)

    # Cut041: cut micCutLevel5
    add(miccutlevel5_1.part, mode=Mode.SUBTRACT)

    # Fusion134: union level5s012
    add(level5s012_1.part)

    # Cut098: cut level5Cuts002
    add(level5cuts002_1.part, mode=Mode.SUBTRACT)

    # Fillet028
    fillet028_edges = [level5s015_1.edges().sort_by_distance(p)[0] for p in [
        (-13, -120, -250),
        (13, -120, -250),
        (-13, -120, -276),
        (13, -120, -276),
    ]]
    fillet(fillet028_edges, radius=FILLET028_R)

    # Fillet029
    fillet029_edges = [level5s015_1.edges().sort_by_distance(p)[0] for p in [
        (-21, -120, -250),
        (21, -120, -250),
        (-21, -120, -284),
        (21, -120, -284),
    ]]
    fillet(fillet029_edges, radius=FILLET029_R)

    # Fillet030
    fillet030_edges = [level5s015_1.edges().sort_by_distance(p)[0] for p in [
        (86, -150, -242),
        (0, -64, -242),
        (0, -236, -242),
        (-86, -150, -242),
    ]]
    fillet(fillet030_edges, radius=FILLET030_R)


solid = level5s015_1.part
